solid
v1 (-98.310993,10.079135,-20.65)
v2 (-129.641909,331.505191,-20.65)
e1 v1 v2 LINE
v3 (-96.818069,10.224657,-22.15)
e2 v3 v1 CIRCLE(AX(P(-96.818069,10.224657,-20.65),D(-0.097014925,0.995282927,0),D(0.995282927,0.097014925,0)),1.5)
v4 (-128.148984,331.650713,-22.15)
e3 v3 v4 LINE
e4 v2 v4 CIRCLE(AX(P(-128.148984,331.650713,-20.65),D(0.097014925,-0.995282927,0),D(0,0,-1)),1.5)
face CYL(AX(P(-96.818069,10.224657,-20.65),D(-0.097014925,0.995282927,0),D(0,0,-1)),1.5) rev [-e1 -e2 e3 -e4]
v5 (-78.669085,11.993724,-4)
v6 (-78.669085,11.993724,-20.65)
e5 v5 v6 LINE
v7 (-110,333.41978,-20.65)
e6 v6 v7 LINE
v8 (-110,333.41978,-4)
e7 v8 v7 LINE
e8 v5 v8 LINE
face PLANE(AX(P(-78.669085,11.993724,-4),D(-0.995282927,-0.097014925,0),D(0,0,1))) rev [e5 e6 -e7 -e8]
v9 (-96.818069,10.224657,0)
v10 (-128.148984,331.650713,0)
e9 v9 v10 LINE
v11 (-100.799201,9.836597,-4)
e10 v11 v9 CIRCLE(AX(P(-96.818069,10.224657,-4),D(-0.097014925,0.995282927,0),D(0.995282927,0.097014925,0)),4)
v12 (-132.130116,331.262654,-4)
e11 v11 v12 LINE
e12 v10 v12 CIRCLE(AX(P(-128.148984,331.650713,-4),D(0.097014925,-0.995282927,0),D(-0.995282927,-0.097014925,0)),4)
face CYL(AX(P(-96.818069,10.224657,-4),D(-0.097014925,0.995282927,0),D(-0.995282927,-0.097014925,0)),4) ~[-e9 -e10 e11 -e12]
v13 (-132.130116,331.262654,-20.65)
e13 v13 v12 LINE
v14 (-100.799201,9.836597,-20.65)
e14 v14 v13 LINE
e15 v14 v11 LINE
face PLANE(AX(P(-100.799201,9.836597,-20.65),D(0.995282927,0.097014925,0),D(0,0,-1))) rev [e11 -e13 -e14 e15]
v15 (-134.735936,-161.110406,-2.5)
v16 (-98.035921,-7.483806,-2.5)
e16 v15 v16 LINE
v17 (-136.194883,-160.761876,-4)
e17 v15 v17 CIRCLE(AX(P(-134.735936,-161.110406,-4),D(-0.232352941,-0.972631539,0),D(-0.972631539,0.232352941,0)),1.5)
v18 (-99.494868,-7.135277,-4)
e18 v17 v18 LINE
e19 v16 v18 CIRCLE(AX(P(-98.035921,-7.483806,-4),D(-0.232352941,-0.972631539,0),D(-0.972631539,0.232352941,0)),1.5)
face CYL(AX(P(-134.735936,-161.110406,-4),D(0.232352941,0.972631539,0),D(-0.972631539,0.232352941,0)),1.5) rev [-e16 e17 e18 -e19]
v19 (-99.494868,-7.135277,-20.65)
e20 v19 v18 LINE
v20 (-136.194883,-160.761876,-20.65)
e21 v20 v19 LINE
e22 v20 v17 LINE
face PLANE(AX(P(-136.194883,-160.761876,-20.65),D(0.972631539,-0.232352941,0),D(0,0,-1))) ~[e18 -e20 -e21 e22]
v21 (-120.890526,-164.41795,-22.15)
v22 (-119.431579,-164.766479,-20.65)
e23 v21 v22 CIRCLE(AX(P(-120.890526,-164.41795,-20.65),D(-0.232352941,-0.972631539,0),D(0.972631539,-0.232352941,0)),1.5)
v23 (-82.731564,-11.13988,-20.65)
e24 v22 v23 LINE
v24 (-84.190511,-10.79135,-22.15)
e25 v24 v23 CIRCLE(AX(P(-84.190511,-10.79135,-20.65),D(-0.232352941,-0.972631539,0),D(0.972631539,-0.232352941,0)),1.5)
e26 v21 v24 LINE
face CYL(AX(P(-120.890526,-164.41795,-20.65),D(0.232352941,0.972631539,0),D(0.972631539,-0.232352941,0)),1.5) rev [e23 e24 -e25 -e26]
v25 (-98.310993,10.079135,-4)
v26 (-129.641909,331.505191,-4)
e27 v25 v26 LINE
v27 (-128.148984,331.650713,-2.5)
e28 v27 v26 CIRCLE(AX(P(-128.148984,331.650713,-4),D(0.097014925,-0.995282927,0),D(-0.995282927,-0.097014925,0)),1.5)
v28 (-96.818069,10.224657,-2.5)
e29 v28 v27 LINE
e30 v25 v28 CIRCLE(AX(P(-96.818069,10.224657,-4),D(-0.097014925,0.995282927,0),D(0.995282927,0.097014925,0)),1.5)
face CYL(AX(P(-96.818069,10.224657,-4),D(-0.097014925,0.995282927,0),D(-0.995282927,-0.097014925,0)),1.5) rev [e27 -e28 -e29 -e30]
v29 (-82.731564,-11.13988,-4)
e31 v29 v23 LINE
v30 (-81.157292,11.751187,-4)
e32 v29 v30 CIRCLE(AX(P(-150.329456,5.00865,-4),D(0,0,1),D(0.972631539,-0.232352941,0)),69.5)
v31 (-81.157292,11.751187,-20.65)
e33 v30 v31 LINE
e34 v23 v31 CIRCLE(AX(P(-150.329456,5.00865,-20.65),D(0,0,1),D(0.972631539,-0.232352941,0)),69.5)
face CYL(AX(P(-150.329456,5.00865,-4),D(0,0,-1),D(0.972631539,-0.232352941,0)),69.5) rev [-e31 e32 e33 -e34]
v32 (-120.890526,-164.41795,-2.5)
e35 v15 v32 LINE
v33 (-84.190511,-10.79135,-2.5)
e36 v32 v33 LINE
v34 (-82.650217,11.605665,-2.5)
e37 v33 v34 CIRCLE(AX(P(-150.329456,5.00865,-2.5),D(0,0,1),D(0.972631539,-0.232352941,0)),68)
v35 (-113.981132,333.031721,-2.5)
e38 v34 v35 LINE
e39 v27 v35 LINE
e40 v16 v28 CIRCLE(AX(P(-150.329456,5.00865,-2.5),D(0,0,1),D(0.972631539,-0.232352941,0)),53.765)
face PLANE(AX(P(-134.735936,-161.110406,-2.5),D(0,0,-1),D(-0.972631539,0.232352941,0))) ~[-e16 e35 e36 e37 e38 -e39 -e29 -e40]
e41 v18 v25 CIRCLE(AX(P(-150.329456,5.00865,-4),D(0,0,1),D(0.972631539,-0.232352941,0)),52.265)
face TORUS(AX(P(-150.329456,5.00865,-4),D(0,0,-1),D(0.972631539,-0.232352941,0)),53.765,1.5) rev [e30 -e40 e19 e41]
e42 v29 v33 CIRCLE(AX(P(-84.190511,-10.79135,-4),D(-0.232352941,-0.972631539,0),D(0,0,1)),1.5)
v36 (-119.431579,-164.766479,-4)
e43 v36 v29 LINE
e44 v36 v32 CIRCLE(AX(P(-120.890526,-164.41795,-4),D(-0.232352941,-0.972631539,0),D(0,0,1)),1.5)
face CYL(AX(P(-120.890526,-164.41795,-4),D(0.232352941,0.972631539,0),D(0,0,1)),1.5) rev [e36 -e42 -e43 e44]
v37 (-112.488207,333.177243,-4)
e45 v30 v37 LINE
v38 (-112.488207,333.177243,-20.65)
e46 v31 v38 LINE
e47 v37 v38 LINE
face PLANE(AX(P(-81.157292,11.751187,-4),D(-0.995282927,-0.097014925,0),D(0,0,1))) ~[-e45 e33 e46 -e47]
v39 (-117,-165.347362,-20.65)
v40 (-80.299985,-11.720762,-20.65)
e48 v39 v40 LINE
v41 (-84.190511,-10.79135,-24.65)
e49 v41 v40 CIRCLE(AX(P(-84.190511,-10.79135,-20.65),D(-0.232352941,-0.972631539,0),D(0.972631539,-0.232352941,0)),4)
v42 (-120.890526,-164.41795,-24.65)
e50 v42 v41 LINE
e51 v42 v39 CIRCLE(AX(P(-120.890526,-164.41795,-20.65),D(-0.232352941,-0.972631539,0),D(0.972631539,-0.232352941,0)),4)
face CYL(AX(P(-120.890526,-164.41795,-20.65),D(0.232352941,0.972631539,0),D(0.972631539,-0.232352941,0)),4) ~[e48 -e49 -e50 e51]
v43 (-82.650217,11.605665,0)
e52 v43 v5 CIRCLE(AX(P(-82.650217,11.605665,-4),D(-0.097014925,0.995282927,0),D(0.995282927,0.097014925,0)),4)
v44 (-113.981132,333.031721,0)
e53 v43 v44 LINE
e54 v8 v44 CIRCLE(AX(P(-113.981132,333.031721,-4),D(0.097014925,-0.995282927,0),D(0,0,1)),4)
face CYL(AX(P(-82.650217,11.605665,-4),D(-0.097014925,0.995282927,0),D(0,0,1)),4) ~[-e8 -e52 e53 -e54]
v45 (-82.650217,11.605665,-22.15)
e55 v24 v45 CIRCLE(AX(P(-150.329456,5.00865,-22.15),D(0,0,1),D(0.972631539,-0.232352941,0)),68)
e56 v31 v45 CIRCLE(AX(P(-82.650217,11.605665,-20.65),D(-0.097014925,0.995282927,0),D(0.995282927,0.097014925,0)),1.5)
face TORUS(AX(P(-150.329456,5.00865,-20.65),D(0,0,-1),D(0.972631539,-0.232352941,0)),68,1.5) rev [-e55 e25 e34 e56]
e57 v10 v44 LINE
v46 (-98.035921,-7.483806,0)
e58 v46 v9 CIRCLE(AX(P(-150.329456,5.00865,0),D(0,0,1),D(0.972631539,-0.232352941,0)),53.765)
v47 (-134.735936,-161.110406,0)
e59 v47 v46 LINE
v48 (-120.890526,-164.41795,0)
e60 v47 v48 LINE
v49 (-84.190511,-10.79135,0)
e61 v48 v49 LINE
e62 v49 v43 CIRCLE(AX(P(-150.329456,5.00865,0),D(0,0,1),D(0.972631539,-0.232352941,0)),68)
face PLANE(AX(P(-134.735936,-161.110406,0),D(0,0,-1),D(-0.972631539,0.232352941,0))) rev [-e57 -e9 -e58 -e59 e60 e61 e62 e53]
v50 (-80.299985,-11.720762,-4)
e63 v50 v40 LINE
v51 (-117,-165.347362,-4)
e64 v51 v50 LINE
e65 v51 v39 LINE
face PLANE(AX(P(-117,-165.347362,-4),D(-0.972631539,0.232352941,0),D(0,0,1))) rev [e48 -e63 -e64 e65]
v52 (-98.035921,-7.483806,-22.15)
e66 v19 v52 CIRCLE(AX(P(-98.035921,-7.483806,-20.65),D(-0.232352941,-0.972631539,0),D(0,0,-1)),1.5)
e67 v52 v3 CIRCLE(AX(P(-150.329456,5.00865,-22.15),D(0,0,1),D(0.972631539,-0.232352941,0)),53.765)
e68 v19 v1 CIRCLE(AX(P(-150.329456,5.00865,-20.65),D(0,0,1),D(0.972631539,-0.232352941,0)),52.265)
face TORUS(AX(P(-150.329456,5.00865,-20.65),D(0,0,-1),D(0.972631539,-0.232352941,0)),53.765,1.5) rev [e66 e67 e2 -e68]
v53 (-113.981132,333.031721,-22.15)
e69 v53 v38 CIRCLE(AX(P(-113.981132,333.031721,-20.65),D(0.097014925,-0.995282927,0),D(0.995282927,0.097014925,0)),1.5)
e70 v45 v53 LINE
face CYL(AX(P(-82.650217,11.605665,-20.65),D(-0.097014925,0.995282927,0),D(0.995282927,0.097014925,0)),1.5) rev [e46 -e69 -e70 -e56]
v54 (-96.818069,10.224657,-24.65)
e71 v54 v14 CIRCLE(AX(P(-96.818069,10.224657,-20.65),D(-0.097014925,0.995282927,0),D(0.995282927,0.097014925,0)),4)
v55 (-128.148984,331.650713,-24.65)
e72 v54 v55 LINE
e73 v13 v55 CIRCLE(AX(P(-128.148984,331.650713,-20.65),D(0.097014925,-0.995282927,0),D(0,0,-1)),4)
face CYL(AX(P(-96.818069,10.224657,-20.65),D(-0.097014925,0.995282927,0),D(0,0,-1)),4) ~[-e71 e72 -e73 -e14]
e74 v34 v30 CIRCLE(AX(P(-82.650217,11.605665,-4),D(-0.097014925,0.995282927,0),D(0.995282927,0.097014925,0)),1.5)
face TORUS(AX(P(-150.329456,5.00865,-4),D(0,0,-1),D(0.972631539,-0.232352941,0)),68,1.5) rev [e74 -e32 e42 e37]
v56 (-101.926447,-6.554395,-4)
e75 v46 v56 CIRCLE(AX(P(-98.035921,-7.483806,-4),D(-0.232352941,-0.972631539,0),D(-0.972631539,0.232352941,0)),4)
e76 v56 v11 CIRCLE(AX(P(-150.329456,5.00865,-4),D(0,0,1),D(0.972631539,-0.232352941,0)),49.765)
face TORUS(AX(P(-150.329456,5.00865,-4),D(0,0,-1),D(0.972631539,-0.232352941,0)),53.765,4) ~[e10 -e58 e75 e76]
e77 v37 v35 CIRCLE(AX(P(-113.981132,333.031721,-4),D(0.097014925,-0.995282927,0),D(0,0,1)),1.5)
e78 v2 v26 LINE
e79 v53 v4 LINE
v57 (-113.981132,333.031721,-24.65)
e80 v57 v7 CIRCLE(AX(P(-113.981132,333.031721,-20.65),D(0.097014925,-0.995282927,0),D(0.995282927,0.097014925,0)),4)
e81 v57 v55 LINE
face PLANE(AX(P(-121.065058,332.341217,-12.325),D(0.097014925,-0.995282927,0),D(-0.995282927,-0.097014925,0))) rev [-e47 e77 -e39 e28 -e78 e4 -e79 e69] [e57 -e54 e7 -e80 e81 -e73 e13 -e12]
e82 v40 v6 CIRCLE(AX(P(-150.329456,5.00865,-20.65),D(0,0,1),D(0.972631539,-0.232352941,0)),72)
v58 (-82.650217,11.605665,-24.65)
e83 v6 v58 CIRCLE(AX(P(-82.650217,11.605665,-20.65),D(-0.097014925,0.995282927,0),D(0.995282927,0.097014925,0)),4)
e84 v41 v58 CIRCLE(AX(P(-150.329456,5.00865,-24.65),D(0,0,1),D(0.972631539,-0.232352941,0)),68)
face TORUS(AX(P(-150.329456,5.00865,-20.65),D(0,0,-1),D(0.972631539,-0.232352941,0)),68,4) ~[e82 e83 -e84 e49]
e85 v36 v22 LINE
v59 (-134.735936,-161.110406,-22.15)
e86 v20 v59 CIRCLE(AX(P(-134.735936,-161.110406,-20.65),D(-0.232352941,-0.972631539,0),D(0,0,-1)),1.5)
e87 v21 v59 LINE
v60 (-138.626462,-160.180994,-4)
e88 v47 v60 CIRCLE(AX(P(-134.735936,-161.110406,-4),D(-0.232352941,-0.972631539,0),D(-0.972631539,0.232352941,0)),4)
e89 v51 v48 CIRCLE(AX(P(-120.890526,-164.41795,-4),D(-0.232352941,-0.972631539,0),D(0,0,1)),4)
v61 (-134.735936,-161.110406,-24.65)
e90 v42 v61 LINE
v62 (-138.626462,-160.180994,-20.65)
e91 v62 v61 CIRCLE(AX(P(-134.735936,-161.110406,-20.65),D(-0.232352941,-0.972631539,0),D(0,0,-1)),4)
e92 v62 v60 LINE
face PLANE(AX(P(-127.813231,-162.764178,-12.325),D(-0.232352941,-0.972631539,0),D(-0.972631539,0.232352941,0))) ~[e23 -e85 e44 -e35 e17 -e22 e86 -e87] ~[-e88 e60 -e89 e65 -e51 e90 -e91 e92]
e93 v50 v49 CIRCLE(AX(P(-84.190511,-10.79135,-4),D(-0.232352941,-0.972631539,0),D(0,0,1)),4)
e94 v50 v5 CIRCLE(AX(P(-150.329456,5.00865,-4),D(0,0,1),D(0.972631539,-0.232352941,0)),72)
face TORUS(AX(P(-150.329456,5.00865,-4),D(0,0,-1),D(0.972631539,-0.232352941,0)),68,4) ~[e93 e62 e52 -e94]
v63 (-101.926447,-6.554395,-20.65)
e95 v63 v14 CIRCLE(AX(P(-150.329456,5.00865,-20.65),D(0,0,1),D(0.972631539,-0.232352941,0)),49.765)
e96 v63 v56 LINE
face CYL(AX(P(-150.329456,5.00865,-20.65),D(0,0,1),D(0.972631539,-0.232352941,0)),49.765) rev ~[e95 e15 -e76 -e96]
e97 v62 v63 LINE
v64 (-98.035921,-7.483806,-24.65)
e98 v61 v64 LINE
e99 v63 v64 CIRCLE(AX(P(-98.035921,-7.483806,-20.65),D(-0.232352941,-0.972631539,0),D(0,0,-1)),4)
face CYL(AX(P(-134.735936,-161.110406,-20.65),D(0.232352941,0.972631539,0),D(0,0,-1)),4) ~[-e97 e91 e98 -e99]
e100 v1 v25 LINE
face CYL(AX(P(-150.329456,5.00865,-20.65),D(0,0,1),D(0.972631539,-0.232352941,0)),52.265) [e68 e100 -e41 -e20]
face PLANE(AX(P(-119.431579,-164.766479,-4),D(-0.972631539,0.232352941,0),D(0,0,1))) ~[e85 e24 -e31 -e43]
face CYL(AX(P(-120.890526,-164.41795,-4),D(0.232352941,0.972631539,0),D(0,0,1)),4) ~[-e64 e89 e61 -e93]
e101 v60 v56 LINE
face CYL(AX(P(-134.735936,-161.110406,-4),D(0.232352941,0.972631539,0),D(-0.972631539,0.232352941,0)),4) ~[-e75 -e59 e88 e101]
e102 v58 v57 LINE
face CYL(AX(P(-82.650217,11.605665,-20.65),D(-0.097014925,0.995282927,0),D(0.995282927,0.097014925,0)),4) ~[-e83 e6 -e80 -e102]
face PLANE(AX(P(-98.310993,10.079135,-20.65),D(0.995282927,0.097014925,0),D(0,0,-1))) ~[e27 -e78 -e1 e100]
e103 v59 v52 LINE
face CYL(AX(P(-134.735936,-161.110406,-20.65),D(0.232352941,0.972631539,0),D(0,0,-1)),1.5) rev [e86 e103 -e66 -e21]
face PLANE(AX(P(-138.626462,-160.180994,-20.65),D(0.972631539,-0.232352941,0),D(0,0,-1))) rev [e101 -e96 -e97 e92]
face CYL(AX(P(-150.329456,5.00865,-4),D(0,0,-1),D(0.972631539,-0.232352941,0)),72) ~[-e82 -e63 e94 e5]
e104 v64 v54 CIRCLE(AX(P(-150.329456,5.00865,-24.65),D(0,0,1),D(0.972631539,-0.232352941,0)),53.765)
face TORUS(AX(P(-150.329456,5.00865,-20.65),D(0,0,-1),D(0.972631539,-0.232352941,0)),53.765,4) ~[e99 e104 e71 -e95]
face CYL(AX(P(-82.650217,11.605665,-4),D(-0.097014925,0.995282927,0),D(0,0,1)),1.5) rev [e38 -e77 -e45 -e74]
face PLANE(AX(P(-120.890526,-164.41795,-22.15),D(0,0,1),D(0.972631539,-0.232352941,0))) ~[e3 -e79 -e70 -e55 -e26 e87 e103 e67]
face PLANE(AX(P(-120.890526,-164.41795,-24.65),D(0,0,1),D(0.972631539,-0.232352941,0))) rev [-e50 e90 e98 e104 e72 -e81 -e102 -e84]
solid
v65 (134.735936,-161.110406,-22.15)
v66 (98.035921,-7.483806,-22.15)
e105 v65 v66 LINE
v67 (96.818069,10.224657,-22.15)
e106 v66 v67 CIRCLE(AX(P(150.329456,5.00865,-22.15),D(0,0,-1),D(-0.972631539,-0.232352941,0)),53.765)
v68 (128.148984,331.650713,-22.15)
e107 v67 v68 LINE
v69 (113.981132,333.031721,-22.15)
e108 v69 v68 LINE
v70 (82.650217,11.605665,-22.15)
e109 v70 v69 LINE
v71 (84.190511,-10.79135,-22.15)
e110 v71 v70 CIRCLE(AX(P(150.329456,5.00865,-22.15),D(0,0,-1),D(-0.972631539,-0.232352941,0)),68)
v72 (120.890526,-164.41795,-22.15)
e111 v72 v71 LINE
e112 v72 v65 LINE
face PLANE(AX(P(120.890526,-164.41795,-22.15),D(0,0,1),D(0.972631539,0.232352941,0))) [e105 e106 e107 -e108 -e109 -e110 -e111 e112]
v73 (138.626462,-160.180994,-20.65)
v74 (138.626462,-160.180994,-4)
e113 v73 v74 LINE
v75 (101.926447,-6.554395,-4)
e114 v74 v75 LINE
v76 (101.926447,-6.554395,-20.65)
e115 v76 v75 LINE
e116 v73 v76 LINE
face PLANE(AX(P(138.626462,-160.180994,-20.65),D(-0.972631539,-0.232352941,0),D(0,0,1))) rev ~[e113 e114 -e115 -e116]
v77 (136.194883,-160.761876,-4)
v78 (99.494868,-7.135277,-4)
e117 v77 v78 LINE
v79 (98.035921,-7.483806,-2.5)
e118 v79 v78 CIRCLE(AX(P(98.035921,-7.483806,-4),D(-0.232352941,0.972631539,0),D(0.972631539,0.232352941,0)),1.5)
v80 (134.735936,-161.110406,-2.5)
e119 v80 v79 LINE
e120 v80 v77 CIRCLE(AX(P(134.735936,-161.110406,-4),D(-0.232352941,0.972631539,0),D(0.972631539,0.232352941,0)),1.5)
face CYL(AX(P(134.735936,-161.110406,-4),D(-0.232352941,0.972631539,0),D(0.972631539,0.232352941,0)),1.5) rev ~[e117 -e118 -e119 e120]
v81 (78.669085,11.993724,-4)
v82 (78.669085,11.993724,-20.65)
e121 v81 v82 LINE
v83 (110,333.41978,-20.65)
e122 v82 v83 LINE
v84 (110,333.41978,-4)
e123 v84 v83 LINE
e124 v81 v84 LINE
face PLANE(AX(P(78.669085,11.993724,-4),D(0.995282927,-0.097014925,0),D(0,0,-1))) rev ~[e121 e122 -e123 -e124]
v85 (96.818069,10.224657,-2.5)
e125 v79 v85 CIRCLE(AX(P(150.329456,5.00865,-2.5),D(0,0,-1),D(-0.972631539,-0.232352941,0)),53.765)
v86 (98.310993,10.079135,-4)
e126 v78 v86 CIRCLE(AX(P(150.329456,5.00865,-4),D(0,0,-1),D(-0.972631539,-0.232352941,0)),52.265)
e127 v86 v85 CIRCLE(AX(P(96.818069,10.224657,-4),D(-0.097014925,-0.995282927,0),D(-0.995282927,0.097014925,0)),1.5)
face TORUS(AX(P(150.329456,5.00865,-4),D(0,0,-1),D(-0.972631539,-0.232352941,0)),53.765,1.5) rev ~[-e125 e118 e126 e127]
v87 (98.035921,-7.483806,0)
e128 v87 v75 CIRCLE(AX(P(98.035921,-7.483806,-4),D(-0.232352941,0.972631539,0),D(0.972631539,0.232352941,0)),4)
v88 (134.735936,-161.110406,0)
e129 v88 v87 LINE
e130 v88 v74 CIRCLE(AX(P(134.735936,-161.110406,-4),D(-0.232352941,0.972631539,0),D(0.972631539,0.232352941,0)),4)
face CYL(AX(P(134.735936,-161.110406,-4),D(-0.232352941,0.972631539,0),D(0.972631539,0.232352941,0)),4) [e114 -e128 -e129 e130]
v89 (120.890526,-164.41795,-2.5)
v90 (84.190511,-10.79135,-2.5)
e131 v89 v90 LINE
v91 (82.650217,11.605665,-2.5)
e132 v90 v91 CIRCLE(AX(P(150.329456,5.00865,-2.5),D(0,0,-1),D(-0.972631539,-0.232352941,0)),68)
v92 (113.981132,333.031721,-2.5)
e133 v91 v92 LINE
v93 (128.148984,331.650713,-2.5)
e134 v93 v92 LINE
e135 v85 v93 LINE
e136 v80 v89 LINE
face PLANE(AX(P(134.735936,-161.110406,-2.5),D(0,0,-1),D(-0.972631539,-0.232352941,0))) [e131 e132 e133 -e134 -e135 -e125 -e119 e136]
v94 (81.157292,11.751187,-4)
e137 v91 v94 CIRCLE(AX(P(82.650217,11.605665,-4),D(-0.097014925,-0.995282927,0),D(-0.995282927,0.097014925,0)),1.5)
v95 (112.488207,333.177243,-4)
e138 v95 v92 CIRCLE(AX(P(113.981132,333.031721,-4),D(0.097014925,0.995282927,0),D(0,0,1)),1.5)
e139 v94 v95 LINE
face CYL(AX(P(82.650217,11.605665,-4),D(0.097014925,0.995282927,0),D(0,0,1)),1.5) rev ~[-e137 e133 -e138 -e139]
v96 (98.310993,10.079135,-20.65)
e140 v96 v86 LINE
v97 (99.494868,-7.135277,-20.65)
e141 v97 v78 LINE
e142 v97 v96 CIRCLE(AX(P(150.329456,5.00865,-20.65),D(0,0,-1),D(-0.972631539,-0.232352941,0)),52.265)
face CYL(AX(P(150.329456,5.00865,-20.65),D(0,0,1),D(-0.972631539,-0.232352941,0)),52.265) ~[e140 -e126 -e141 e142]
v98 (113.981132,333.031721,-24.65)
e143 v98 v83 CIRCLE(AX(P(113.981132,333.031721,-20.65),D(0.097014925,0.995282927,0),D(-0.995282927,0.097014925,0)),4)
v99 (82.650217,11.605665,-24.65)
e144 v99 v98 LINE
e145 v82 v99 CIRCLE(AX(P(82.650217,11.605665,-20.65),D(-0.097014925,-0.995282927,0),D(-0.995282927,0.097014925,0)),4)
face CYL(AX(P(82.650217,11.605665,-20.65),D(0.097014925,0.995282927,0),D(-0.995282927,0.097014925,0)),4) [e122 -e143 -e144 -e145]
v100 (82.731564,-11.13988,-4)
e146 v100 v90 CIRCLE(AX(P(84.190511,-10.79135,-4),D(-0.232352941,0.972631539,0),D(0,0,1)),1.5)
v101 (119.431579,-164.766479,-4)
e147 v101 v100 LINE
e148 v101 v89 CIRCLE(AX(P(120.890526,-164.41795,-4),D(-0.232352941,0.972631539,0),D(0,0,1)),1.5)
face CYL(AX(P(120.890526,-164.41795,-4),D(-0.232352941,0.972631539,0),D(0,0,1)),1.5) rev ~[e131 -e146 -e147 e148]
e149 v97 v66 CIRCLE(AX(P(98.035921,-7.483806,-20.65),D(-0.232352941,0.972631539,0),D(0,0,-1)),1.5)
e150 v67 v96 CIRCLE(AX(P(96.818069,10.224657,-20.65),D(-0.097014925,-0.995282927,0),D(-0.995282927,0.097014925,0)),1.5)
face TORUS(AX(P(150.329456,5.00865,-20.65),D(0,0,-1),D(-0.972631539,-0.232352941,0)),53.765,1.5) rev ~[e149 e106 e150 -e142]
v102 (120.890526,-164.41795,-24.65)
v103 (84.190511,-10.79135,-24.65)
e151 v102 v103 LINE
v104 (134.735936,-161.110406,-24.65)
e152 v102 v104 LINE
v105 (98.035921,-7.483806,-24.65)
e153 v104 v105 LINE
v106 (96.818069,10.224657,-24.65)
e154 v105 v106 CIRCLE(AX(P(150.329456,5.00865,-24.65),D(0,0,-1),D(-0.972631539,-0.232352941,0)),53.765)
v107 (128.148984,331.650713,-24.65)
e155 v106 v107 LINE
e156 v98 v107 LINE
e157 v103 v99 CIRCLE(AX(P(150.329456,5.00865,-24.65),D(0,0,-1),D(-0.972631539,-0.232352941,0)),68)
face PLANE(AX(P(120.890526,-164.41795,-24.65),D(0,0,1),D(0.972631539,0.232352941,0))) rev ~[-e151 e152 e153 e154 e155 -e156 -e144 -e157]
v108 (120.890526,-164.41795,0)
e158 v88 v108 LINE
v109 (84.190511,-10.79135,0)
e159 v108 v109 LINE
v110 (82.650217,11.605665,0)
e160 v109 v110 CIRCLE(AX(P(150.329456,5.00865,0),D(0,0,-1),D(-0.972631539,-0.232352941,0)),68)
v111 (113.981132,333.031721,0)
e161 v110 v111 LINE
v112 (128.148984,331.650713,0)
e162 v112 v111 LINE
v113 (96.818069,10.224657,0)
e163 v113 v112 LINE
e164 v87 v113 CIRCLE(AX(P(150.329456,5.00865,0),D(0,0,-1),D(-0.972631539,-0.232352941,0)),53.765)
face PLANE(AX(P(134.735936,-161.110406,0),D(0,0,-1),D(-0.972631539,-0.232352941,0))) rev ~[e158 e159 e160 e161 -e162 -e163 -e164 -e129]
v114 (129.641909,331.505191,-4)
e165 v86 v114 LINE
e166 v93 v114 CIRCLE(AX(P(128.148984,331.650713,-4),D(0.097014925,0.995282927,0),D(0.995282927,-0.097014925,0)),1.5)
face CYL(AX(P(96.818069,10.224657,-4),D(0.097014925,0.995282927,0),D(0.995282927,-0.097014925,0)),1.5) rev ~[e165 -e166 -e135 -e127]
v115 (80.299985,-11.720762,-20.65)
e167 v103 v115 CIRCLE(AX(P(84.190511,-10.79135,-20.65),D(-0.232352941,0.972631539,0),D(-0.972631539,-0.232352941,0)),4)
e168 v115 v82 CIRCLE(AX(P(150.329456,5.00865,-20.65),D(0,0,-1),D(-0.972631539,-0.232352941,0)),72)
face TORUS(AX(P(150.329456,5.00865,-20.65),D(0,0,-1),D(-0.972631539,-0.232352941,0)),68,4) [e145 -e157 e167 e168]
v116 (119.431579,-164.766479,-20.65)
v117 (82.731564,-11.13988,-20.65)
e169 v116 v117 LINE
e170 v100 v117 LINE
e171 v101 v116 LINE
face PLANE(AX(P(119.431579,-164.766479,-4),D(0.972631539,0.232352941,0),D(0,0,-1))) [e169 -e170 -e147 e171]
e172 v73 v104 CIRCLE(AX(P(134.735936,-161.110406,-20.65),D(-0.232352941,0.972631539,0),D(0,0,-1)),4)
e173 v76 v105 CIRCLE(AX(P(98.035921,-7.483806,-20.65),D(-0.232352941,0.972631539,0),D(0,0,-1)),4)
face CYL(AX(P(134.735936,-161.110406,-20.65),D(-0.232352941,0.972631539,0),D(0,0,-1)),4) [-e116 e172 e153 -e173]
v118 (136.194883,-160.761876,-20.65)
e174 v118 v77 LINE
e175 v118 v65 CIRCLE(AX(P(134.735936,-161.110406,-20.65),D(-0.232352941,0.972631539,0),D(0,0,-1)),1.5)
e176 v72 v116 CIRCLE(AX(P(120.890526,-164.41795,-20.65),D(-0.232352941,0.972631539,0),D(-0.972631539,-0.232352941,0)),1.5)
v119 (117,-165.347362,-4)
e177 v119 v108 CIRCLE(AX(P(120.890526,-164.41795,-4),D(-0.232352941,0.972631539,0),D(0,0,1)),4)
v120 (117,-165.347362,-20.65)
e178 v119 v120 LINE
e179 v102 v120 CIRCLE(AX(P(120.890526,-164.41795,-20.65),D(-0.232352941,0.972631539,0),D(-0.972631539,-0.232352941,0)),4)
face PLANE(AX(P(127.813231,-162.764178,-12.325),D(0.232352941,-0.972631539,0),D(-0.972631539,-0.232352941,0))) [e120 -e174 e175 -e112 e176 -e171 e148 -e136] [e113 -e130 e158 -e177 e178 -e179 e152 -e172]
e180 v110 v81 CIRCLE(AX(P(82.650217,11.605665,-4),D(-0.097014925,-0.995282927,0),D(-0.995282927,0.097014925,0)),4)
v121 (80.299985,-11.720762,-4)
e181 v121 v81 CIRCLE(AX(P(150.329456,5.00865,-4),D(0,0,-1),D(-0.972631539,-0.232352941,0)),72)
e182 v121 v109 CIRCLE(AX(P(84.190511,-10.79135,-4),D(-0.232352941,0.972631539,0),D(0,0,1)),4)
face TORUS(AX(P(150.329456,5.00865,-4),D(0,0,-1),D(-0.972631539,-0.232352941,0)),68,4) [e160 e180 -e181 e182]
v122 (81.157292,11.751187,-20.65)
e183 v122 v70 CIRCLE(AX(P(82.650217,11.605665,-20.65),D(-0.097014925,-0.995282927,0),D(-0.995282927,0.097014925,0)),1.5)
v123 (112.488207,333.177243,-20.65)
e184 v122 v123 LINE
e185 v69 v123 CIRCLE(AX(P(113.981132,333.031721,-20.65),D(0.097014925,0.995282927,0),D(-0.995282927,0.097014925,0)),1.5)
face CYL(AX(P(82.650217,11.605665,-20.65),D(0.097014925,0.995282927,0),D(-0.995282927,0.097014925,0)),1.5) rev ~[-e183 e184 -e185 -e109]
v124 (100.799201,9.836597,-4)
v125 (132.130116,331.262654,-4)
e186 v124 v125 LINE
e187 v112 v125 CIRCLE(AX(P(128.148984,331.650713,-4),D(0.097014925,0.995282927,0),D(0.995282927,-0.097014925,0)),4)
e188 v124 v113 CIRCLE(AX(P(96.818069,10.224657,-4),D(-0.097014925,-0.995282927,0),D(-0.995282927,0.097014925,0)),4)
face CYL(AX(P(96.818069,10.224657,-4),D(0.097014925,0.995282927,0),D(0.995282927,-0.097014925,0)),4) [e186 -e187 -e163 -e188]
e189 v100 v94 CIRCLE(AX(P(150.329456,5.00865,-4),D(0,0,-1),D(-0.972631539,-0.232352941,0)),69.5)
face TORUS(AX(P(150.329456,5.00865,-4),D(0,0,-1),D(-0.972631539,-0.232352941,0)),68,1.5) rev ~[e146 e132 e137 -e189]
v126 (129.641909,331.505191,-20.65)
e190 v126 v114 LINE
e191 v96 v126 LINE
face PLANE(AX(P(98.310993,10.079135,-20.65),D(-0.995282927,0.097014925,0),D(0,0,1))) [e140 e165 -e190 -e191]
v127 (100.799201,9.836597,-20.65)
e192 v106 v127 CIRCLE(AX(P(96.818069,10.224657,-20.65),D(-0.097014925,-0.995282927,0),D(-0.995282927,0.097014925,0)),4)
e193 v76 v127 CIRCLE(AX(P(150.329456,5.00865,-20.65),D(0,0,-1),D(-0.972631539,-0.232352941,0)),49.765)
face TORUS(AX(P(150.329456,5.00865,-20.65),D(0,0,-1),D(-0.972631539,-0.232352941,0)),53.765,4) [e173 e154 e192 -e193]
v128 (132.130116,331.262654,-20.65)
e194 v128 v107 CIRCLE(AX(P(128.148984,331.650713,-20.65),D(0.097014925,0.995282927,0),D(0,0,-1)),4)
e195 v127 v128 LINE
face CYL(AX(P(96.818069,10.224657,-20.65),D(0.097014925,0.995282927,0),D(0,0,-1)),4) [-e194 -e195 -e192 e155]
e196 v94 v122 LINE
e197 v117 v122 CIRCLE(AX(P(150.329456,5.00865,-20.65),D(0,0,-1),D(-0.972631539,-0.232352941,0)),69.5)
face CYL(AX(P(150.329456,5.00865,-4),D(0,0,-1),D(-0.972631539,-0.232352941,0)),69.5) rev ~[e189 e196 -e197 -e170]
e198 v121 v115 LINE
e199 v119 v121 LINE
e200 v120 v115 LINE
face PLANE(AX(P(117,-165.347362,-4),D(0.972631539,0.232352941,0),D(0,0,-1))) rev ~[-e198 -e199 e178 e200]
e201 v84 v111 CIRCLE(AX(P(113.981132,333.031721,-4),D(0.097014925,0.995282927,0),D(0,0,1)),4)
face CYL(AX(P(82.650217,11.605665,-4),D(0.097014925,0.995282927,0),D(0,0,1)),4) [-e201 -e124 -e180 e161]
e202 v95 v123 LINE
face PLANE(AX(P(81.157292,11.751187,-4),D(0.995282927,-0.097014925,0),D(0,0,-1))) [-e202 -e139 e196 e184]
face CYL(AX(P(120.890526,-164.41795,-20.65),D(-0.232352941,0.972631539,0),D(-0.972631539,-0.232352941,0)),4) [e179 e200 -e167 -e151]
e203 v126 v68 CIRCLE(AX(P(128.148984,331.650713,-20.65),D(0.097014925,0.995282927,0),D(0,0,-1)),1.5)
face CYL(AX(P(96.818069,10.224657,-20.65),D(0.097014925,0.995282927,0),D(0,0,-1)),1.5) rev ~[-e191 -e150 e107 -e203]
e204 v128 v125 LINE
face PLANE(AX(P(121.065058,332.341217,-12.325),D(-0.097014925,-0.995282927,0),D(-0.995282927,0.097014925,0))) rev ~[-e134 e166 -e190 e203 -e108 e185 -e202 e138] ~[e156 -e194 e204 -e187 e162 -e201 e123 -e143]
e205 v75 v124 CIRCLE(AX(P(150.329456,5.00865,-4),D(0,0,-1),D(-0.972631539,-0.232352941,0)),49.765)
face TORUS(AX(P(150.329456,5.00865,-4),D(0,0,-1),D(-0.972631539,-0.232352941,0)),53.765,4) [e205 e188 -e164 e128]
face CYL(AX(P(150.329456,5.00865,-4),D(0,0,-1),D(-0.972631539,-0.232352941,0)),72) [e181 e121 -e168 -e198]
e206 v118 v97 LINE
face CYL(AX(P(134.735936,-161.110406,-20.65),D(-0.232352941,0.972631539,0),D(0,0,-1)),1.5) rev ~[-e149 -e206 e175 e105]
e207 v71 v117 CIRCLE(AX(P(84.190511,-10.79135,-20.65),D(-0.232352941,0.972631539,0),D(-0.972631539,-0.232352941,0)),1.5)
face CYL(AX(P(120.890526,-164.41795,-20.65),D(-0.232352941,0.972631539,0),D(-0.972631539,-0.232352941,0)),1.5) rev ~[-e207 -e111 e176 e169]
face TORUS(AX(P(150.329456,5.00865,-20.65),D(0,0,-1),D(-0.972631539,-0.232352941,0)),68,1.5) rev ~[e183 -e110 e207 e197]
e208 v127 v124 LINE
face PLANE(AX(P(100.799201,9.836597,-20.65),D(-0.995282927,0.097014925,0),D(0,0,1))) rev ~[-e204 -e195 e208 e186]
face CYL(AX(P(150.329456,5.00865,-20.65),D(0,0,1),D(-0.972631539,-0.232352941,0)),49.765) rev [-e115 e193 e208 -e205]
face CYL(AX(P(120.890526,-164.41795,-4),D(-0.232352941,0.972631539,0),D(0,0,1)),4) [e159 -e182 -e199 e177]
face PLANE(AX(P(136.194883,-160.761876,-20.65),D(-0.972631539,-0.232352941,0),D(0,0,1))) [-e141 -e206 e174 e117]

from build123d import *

# Parameters (mm, degrees)
F4_T = -2.5


with BuildPart() as f3:
    # F3: sweep along a path in F0
    with BuildLine(Plane.XY) as f3_path:
        Line((117, -165.347361636), (80.2999848354, -11.7207621559))
        ThreePointArc((80.2999848354, -11.7207621559), (78.4991207254, 0.0687118362), (78.6690849209, 11.9937242357))
        Line((78.6690849209, 11.9937242357), (110, 333.419780457))
    # F2 (on line) → F3 (sweep)
    with BuildSketch(Plane(origin=(43.6840614187, -182.8618810412, 0), x_dir=(0.972631539, 0.2323529412, 0), z_dir=(0.2323529412, -0.972631539, 0))):
        with BuildLine():
            Line((93.6139442753, 0), (79.3789442753, 0))
            ThreePointArc((79.3789442753, 0), (76.5505171505, -1.1715728753), (75.3789442753, -4))
            Line((75.3789442753, -4), (75.3789442753, -20.65))
            ThreePointArc((75.3789442753, -20.65), (76.5505171505, -23.4784271247), (79.3789442753, -24.65))
            Line((79.3789442753, -24.65), (93.6139442753, -24.65))
            ThreePointArc((93.6139442753, -24.65), (96.4423714, -23.4784271247), (97.6139442753, -20.65))
            Line((97.6139442753, -20.65), (97.6139442753, -4))
            ThreePointArc((97.6139442753, -4), (96.4423714, -1.1715728753), (93.6139442753, 0))
        make_face()
    sweep(path=f3_path.line)

    # F4
    f4_openings = [f3.faces().sort_by_distance(p)[0] for p in [
        (127.813231, -162.764178, -12.325),
        (121.065058, 332.341217, -12.325),
    ]]
    offset(amount=F4_T, openings=f4_openings)


with BuildPart() as f8_1:
    # F8: instance of F3
    add(f3.part.mirror(Plane.YZ))


solid = Compound([f3.part, f8_1.part])
